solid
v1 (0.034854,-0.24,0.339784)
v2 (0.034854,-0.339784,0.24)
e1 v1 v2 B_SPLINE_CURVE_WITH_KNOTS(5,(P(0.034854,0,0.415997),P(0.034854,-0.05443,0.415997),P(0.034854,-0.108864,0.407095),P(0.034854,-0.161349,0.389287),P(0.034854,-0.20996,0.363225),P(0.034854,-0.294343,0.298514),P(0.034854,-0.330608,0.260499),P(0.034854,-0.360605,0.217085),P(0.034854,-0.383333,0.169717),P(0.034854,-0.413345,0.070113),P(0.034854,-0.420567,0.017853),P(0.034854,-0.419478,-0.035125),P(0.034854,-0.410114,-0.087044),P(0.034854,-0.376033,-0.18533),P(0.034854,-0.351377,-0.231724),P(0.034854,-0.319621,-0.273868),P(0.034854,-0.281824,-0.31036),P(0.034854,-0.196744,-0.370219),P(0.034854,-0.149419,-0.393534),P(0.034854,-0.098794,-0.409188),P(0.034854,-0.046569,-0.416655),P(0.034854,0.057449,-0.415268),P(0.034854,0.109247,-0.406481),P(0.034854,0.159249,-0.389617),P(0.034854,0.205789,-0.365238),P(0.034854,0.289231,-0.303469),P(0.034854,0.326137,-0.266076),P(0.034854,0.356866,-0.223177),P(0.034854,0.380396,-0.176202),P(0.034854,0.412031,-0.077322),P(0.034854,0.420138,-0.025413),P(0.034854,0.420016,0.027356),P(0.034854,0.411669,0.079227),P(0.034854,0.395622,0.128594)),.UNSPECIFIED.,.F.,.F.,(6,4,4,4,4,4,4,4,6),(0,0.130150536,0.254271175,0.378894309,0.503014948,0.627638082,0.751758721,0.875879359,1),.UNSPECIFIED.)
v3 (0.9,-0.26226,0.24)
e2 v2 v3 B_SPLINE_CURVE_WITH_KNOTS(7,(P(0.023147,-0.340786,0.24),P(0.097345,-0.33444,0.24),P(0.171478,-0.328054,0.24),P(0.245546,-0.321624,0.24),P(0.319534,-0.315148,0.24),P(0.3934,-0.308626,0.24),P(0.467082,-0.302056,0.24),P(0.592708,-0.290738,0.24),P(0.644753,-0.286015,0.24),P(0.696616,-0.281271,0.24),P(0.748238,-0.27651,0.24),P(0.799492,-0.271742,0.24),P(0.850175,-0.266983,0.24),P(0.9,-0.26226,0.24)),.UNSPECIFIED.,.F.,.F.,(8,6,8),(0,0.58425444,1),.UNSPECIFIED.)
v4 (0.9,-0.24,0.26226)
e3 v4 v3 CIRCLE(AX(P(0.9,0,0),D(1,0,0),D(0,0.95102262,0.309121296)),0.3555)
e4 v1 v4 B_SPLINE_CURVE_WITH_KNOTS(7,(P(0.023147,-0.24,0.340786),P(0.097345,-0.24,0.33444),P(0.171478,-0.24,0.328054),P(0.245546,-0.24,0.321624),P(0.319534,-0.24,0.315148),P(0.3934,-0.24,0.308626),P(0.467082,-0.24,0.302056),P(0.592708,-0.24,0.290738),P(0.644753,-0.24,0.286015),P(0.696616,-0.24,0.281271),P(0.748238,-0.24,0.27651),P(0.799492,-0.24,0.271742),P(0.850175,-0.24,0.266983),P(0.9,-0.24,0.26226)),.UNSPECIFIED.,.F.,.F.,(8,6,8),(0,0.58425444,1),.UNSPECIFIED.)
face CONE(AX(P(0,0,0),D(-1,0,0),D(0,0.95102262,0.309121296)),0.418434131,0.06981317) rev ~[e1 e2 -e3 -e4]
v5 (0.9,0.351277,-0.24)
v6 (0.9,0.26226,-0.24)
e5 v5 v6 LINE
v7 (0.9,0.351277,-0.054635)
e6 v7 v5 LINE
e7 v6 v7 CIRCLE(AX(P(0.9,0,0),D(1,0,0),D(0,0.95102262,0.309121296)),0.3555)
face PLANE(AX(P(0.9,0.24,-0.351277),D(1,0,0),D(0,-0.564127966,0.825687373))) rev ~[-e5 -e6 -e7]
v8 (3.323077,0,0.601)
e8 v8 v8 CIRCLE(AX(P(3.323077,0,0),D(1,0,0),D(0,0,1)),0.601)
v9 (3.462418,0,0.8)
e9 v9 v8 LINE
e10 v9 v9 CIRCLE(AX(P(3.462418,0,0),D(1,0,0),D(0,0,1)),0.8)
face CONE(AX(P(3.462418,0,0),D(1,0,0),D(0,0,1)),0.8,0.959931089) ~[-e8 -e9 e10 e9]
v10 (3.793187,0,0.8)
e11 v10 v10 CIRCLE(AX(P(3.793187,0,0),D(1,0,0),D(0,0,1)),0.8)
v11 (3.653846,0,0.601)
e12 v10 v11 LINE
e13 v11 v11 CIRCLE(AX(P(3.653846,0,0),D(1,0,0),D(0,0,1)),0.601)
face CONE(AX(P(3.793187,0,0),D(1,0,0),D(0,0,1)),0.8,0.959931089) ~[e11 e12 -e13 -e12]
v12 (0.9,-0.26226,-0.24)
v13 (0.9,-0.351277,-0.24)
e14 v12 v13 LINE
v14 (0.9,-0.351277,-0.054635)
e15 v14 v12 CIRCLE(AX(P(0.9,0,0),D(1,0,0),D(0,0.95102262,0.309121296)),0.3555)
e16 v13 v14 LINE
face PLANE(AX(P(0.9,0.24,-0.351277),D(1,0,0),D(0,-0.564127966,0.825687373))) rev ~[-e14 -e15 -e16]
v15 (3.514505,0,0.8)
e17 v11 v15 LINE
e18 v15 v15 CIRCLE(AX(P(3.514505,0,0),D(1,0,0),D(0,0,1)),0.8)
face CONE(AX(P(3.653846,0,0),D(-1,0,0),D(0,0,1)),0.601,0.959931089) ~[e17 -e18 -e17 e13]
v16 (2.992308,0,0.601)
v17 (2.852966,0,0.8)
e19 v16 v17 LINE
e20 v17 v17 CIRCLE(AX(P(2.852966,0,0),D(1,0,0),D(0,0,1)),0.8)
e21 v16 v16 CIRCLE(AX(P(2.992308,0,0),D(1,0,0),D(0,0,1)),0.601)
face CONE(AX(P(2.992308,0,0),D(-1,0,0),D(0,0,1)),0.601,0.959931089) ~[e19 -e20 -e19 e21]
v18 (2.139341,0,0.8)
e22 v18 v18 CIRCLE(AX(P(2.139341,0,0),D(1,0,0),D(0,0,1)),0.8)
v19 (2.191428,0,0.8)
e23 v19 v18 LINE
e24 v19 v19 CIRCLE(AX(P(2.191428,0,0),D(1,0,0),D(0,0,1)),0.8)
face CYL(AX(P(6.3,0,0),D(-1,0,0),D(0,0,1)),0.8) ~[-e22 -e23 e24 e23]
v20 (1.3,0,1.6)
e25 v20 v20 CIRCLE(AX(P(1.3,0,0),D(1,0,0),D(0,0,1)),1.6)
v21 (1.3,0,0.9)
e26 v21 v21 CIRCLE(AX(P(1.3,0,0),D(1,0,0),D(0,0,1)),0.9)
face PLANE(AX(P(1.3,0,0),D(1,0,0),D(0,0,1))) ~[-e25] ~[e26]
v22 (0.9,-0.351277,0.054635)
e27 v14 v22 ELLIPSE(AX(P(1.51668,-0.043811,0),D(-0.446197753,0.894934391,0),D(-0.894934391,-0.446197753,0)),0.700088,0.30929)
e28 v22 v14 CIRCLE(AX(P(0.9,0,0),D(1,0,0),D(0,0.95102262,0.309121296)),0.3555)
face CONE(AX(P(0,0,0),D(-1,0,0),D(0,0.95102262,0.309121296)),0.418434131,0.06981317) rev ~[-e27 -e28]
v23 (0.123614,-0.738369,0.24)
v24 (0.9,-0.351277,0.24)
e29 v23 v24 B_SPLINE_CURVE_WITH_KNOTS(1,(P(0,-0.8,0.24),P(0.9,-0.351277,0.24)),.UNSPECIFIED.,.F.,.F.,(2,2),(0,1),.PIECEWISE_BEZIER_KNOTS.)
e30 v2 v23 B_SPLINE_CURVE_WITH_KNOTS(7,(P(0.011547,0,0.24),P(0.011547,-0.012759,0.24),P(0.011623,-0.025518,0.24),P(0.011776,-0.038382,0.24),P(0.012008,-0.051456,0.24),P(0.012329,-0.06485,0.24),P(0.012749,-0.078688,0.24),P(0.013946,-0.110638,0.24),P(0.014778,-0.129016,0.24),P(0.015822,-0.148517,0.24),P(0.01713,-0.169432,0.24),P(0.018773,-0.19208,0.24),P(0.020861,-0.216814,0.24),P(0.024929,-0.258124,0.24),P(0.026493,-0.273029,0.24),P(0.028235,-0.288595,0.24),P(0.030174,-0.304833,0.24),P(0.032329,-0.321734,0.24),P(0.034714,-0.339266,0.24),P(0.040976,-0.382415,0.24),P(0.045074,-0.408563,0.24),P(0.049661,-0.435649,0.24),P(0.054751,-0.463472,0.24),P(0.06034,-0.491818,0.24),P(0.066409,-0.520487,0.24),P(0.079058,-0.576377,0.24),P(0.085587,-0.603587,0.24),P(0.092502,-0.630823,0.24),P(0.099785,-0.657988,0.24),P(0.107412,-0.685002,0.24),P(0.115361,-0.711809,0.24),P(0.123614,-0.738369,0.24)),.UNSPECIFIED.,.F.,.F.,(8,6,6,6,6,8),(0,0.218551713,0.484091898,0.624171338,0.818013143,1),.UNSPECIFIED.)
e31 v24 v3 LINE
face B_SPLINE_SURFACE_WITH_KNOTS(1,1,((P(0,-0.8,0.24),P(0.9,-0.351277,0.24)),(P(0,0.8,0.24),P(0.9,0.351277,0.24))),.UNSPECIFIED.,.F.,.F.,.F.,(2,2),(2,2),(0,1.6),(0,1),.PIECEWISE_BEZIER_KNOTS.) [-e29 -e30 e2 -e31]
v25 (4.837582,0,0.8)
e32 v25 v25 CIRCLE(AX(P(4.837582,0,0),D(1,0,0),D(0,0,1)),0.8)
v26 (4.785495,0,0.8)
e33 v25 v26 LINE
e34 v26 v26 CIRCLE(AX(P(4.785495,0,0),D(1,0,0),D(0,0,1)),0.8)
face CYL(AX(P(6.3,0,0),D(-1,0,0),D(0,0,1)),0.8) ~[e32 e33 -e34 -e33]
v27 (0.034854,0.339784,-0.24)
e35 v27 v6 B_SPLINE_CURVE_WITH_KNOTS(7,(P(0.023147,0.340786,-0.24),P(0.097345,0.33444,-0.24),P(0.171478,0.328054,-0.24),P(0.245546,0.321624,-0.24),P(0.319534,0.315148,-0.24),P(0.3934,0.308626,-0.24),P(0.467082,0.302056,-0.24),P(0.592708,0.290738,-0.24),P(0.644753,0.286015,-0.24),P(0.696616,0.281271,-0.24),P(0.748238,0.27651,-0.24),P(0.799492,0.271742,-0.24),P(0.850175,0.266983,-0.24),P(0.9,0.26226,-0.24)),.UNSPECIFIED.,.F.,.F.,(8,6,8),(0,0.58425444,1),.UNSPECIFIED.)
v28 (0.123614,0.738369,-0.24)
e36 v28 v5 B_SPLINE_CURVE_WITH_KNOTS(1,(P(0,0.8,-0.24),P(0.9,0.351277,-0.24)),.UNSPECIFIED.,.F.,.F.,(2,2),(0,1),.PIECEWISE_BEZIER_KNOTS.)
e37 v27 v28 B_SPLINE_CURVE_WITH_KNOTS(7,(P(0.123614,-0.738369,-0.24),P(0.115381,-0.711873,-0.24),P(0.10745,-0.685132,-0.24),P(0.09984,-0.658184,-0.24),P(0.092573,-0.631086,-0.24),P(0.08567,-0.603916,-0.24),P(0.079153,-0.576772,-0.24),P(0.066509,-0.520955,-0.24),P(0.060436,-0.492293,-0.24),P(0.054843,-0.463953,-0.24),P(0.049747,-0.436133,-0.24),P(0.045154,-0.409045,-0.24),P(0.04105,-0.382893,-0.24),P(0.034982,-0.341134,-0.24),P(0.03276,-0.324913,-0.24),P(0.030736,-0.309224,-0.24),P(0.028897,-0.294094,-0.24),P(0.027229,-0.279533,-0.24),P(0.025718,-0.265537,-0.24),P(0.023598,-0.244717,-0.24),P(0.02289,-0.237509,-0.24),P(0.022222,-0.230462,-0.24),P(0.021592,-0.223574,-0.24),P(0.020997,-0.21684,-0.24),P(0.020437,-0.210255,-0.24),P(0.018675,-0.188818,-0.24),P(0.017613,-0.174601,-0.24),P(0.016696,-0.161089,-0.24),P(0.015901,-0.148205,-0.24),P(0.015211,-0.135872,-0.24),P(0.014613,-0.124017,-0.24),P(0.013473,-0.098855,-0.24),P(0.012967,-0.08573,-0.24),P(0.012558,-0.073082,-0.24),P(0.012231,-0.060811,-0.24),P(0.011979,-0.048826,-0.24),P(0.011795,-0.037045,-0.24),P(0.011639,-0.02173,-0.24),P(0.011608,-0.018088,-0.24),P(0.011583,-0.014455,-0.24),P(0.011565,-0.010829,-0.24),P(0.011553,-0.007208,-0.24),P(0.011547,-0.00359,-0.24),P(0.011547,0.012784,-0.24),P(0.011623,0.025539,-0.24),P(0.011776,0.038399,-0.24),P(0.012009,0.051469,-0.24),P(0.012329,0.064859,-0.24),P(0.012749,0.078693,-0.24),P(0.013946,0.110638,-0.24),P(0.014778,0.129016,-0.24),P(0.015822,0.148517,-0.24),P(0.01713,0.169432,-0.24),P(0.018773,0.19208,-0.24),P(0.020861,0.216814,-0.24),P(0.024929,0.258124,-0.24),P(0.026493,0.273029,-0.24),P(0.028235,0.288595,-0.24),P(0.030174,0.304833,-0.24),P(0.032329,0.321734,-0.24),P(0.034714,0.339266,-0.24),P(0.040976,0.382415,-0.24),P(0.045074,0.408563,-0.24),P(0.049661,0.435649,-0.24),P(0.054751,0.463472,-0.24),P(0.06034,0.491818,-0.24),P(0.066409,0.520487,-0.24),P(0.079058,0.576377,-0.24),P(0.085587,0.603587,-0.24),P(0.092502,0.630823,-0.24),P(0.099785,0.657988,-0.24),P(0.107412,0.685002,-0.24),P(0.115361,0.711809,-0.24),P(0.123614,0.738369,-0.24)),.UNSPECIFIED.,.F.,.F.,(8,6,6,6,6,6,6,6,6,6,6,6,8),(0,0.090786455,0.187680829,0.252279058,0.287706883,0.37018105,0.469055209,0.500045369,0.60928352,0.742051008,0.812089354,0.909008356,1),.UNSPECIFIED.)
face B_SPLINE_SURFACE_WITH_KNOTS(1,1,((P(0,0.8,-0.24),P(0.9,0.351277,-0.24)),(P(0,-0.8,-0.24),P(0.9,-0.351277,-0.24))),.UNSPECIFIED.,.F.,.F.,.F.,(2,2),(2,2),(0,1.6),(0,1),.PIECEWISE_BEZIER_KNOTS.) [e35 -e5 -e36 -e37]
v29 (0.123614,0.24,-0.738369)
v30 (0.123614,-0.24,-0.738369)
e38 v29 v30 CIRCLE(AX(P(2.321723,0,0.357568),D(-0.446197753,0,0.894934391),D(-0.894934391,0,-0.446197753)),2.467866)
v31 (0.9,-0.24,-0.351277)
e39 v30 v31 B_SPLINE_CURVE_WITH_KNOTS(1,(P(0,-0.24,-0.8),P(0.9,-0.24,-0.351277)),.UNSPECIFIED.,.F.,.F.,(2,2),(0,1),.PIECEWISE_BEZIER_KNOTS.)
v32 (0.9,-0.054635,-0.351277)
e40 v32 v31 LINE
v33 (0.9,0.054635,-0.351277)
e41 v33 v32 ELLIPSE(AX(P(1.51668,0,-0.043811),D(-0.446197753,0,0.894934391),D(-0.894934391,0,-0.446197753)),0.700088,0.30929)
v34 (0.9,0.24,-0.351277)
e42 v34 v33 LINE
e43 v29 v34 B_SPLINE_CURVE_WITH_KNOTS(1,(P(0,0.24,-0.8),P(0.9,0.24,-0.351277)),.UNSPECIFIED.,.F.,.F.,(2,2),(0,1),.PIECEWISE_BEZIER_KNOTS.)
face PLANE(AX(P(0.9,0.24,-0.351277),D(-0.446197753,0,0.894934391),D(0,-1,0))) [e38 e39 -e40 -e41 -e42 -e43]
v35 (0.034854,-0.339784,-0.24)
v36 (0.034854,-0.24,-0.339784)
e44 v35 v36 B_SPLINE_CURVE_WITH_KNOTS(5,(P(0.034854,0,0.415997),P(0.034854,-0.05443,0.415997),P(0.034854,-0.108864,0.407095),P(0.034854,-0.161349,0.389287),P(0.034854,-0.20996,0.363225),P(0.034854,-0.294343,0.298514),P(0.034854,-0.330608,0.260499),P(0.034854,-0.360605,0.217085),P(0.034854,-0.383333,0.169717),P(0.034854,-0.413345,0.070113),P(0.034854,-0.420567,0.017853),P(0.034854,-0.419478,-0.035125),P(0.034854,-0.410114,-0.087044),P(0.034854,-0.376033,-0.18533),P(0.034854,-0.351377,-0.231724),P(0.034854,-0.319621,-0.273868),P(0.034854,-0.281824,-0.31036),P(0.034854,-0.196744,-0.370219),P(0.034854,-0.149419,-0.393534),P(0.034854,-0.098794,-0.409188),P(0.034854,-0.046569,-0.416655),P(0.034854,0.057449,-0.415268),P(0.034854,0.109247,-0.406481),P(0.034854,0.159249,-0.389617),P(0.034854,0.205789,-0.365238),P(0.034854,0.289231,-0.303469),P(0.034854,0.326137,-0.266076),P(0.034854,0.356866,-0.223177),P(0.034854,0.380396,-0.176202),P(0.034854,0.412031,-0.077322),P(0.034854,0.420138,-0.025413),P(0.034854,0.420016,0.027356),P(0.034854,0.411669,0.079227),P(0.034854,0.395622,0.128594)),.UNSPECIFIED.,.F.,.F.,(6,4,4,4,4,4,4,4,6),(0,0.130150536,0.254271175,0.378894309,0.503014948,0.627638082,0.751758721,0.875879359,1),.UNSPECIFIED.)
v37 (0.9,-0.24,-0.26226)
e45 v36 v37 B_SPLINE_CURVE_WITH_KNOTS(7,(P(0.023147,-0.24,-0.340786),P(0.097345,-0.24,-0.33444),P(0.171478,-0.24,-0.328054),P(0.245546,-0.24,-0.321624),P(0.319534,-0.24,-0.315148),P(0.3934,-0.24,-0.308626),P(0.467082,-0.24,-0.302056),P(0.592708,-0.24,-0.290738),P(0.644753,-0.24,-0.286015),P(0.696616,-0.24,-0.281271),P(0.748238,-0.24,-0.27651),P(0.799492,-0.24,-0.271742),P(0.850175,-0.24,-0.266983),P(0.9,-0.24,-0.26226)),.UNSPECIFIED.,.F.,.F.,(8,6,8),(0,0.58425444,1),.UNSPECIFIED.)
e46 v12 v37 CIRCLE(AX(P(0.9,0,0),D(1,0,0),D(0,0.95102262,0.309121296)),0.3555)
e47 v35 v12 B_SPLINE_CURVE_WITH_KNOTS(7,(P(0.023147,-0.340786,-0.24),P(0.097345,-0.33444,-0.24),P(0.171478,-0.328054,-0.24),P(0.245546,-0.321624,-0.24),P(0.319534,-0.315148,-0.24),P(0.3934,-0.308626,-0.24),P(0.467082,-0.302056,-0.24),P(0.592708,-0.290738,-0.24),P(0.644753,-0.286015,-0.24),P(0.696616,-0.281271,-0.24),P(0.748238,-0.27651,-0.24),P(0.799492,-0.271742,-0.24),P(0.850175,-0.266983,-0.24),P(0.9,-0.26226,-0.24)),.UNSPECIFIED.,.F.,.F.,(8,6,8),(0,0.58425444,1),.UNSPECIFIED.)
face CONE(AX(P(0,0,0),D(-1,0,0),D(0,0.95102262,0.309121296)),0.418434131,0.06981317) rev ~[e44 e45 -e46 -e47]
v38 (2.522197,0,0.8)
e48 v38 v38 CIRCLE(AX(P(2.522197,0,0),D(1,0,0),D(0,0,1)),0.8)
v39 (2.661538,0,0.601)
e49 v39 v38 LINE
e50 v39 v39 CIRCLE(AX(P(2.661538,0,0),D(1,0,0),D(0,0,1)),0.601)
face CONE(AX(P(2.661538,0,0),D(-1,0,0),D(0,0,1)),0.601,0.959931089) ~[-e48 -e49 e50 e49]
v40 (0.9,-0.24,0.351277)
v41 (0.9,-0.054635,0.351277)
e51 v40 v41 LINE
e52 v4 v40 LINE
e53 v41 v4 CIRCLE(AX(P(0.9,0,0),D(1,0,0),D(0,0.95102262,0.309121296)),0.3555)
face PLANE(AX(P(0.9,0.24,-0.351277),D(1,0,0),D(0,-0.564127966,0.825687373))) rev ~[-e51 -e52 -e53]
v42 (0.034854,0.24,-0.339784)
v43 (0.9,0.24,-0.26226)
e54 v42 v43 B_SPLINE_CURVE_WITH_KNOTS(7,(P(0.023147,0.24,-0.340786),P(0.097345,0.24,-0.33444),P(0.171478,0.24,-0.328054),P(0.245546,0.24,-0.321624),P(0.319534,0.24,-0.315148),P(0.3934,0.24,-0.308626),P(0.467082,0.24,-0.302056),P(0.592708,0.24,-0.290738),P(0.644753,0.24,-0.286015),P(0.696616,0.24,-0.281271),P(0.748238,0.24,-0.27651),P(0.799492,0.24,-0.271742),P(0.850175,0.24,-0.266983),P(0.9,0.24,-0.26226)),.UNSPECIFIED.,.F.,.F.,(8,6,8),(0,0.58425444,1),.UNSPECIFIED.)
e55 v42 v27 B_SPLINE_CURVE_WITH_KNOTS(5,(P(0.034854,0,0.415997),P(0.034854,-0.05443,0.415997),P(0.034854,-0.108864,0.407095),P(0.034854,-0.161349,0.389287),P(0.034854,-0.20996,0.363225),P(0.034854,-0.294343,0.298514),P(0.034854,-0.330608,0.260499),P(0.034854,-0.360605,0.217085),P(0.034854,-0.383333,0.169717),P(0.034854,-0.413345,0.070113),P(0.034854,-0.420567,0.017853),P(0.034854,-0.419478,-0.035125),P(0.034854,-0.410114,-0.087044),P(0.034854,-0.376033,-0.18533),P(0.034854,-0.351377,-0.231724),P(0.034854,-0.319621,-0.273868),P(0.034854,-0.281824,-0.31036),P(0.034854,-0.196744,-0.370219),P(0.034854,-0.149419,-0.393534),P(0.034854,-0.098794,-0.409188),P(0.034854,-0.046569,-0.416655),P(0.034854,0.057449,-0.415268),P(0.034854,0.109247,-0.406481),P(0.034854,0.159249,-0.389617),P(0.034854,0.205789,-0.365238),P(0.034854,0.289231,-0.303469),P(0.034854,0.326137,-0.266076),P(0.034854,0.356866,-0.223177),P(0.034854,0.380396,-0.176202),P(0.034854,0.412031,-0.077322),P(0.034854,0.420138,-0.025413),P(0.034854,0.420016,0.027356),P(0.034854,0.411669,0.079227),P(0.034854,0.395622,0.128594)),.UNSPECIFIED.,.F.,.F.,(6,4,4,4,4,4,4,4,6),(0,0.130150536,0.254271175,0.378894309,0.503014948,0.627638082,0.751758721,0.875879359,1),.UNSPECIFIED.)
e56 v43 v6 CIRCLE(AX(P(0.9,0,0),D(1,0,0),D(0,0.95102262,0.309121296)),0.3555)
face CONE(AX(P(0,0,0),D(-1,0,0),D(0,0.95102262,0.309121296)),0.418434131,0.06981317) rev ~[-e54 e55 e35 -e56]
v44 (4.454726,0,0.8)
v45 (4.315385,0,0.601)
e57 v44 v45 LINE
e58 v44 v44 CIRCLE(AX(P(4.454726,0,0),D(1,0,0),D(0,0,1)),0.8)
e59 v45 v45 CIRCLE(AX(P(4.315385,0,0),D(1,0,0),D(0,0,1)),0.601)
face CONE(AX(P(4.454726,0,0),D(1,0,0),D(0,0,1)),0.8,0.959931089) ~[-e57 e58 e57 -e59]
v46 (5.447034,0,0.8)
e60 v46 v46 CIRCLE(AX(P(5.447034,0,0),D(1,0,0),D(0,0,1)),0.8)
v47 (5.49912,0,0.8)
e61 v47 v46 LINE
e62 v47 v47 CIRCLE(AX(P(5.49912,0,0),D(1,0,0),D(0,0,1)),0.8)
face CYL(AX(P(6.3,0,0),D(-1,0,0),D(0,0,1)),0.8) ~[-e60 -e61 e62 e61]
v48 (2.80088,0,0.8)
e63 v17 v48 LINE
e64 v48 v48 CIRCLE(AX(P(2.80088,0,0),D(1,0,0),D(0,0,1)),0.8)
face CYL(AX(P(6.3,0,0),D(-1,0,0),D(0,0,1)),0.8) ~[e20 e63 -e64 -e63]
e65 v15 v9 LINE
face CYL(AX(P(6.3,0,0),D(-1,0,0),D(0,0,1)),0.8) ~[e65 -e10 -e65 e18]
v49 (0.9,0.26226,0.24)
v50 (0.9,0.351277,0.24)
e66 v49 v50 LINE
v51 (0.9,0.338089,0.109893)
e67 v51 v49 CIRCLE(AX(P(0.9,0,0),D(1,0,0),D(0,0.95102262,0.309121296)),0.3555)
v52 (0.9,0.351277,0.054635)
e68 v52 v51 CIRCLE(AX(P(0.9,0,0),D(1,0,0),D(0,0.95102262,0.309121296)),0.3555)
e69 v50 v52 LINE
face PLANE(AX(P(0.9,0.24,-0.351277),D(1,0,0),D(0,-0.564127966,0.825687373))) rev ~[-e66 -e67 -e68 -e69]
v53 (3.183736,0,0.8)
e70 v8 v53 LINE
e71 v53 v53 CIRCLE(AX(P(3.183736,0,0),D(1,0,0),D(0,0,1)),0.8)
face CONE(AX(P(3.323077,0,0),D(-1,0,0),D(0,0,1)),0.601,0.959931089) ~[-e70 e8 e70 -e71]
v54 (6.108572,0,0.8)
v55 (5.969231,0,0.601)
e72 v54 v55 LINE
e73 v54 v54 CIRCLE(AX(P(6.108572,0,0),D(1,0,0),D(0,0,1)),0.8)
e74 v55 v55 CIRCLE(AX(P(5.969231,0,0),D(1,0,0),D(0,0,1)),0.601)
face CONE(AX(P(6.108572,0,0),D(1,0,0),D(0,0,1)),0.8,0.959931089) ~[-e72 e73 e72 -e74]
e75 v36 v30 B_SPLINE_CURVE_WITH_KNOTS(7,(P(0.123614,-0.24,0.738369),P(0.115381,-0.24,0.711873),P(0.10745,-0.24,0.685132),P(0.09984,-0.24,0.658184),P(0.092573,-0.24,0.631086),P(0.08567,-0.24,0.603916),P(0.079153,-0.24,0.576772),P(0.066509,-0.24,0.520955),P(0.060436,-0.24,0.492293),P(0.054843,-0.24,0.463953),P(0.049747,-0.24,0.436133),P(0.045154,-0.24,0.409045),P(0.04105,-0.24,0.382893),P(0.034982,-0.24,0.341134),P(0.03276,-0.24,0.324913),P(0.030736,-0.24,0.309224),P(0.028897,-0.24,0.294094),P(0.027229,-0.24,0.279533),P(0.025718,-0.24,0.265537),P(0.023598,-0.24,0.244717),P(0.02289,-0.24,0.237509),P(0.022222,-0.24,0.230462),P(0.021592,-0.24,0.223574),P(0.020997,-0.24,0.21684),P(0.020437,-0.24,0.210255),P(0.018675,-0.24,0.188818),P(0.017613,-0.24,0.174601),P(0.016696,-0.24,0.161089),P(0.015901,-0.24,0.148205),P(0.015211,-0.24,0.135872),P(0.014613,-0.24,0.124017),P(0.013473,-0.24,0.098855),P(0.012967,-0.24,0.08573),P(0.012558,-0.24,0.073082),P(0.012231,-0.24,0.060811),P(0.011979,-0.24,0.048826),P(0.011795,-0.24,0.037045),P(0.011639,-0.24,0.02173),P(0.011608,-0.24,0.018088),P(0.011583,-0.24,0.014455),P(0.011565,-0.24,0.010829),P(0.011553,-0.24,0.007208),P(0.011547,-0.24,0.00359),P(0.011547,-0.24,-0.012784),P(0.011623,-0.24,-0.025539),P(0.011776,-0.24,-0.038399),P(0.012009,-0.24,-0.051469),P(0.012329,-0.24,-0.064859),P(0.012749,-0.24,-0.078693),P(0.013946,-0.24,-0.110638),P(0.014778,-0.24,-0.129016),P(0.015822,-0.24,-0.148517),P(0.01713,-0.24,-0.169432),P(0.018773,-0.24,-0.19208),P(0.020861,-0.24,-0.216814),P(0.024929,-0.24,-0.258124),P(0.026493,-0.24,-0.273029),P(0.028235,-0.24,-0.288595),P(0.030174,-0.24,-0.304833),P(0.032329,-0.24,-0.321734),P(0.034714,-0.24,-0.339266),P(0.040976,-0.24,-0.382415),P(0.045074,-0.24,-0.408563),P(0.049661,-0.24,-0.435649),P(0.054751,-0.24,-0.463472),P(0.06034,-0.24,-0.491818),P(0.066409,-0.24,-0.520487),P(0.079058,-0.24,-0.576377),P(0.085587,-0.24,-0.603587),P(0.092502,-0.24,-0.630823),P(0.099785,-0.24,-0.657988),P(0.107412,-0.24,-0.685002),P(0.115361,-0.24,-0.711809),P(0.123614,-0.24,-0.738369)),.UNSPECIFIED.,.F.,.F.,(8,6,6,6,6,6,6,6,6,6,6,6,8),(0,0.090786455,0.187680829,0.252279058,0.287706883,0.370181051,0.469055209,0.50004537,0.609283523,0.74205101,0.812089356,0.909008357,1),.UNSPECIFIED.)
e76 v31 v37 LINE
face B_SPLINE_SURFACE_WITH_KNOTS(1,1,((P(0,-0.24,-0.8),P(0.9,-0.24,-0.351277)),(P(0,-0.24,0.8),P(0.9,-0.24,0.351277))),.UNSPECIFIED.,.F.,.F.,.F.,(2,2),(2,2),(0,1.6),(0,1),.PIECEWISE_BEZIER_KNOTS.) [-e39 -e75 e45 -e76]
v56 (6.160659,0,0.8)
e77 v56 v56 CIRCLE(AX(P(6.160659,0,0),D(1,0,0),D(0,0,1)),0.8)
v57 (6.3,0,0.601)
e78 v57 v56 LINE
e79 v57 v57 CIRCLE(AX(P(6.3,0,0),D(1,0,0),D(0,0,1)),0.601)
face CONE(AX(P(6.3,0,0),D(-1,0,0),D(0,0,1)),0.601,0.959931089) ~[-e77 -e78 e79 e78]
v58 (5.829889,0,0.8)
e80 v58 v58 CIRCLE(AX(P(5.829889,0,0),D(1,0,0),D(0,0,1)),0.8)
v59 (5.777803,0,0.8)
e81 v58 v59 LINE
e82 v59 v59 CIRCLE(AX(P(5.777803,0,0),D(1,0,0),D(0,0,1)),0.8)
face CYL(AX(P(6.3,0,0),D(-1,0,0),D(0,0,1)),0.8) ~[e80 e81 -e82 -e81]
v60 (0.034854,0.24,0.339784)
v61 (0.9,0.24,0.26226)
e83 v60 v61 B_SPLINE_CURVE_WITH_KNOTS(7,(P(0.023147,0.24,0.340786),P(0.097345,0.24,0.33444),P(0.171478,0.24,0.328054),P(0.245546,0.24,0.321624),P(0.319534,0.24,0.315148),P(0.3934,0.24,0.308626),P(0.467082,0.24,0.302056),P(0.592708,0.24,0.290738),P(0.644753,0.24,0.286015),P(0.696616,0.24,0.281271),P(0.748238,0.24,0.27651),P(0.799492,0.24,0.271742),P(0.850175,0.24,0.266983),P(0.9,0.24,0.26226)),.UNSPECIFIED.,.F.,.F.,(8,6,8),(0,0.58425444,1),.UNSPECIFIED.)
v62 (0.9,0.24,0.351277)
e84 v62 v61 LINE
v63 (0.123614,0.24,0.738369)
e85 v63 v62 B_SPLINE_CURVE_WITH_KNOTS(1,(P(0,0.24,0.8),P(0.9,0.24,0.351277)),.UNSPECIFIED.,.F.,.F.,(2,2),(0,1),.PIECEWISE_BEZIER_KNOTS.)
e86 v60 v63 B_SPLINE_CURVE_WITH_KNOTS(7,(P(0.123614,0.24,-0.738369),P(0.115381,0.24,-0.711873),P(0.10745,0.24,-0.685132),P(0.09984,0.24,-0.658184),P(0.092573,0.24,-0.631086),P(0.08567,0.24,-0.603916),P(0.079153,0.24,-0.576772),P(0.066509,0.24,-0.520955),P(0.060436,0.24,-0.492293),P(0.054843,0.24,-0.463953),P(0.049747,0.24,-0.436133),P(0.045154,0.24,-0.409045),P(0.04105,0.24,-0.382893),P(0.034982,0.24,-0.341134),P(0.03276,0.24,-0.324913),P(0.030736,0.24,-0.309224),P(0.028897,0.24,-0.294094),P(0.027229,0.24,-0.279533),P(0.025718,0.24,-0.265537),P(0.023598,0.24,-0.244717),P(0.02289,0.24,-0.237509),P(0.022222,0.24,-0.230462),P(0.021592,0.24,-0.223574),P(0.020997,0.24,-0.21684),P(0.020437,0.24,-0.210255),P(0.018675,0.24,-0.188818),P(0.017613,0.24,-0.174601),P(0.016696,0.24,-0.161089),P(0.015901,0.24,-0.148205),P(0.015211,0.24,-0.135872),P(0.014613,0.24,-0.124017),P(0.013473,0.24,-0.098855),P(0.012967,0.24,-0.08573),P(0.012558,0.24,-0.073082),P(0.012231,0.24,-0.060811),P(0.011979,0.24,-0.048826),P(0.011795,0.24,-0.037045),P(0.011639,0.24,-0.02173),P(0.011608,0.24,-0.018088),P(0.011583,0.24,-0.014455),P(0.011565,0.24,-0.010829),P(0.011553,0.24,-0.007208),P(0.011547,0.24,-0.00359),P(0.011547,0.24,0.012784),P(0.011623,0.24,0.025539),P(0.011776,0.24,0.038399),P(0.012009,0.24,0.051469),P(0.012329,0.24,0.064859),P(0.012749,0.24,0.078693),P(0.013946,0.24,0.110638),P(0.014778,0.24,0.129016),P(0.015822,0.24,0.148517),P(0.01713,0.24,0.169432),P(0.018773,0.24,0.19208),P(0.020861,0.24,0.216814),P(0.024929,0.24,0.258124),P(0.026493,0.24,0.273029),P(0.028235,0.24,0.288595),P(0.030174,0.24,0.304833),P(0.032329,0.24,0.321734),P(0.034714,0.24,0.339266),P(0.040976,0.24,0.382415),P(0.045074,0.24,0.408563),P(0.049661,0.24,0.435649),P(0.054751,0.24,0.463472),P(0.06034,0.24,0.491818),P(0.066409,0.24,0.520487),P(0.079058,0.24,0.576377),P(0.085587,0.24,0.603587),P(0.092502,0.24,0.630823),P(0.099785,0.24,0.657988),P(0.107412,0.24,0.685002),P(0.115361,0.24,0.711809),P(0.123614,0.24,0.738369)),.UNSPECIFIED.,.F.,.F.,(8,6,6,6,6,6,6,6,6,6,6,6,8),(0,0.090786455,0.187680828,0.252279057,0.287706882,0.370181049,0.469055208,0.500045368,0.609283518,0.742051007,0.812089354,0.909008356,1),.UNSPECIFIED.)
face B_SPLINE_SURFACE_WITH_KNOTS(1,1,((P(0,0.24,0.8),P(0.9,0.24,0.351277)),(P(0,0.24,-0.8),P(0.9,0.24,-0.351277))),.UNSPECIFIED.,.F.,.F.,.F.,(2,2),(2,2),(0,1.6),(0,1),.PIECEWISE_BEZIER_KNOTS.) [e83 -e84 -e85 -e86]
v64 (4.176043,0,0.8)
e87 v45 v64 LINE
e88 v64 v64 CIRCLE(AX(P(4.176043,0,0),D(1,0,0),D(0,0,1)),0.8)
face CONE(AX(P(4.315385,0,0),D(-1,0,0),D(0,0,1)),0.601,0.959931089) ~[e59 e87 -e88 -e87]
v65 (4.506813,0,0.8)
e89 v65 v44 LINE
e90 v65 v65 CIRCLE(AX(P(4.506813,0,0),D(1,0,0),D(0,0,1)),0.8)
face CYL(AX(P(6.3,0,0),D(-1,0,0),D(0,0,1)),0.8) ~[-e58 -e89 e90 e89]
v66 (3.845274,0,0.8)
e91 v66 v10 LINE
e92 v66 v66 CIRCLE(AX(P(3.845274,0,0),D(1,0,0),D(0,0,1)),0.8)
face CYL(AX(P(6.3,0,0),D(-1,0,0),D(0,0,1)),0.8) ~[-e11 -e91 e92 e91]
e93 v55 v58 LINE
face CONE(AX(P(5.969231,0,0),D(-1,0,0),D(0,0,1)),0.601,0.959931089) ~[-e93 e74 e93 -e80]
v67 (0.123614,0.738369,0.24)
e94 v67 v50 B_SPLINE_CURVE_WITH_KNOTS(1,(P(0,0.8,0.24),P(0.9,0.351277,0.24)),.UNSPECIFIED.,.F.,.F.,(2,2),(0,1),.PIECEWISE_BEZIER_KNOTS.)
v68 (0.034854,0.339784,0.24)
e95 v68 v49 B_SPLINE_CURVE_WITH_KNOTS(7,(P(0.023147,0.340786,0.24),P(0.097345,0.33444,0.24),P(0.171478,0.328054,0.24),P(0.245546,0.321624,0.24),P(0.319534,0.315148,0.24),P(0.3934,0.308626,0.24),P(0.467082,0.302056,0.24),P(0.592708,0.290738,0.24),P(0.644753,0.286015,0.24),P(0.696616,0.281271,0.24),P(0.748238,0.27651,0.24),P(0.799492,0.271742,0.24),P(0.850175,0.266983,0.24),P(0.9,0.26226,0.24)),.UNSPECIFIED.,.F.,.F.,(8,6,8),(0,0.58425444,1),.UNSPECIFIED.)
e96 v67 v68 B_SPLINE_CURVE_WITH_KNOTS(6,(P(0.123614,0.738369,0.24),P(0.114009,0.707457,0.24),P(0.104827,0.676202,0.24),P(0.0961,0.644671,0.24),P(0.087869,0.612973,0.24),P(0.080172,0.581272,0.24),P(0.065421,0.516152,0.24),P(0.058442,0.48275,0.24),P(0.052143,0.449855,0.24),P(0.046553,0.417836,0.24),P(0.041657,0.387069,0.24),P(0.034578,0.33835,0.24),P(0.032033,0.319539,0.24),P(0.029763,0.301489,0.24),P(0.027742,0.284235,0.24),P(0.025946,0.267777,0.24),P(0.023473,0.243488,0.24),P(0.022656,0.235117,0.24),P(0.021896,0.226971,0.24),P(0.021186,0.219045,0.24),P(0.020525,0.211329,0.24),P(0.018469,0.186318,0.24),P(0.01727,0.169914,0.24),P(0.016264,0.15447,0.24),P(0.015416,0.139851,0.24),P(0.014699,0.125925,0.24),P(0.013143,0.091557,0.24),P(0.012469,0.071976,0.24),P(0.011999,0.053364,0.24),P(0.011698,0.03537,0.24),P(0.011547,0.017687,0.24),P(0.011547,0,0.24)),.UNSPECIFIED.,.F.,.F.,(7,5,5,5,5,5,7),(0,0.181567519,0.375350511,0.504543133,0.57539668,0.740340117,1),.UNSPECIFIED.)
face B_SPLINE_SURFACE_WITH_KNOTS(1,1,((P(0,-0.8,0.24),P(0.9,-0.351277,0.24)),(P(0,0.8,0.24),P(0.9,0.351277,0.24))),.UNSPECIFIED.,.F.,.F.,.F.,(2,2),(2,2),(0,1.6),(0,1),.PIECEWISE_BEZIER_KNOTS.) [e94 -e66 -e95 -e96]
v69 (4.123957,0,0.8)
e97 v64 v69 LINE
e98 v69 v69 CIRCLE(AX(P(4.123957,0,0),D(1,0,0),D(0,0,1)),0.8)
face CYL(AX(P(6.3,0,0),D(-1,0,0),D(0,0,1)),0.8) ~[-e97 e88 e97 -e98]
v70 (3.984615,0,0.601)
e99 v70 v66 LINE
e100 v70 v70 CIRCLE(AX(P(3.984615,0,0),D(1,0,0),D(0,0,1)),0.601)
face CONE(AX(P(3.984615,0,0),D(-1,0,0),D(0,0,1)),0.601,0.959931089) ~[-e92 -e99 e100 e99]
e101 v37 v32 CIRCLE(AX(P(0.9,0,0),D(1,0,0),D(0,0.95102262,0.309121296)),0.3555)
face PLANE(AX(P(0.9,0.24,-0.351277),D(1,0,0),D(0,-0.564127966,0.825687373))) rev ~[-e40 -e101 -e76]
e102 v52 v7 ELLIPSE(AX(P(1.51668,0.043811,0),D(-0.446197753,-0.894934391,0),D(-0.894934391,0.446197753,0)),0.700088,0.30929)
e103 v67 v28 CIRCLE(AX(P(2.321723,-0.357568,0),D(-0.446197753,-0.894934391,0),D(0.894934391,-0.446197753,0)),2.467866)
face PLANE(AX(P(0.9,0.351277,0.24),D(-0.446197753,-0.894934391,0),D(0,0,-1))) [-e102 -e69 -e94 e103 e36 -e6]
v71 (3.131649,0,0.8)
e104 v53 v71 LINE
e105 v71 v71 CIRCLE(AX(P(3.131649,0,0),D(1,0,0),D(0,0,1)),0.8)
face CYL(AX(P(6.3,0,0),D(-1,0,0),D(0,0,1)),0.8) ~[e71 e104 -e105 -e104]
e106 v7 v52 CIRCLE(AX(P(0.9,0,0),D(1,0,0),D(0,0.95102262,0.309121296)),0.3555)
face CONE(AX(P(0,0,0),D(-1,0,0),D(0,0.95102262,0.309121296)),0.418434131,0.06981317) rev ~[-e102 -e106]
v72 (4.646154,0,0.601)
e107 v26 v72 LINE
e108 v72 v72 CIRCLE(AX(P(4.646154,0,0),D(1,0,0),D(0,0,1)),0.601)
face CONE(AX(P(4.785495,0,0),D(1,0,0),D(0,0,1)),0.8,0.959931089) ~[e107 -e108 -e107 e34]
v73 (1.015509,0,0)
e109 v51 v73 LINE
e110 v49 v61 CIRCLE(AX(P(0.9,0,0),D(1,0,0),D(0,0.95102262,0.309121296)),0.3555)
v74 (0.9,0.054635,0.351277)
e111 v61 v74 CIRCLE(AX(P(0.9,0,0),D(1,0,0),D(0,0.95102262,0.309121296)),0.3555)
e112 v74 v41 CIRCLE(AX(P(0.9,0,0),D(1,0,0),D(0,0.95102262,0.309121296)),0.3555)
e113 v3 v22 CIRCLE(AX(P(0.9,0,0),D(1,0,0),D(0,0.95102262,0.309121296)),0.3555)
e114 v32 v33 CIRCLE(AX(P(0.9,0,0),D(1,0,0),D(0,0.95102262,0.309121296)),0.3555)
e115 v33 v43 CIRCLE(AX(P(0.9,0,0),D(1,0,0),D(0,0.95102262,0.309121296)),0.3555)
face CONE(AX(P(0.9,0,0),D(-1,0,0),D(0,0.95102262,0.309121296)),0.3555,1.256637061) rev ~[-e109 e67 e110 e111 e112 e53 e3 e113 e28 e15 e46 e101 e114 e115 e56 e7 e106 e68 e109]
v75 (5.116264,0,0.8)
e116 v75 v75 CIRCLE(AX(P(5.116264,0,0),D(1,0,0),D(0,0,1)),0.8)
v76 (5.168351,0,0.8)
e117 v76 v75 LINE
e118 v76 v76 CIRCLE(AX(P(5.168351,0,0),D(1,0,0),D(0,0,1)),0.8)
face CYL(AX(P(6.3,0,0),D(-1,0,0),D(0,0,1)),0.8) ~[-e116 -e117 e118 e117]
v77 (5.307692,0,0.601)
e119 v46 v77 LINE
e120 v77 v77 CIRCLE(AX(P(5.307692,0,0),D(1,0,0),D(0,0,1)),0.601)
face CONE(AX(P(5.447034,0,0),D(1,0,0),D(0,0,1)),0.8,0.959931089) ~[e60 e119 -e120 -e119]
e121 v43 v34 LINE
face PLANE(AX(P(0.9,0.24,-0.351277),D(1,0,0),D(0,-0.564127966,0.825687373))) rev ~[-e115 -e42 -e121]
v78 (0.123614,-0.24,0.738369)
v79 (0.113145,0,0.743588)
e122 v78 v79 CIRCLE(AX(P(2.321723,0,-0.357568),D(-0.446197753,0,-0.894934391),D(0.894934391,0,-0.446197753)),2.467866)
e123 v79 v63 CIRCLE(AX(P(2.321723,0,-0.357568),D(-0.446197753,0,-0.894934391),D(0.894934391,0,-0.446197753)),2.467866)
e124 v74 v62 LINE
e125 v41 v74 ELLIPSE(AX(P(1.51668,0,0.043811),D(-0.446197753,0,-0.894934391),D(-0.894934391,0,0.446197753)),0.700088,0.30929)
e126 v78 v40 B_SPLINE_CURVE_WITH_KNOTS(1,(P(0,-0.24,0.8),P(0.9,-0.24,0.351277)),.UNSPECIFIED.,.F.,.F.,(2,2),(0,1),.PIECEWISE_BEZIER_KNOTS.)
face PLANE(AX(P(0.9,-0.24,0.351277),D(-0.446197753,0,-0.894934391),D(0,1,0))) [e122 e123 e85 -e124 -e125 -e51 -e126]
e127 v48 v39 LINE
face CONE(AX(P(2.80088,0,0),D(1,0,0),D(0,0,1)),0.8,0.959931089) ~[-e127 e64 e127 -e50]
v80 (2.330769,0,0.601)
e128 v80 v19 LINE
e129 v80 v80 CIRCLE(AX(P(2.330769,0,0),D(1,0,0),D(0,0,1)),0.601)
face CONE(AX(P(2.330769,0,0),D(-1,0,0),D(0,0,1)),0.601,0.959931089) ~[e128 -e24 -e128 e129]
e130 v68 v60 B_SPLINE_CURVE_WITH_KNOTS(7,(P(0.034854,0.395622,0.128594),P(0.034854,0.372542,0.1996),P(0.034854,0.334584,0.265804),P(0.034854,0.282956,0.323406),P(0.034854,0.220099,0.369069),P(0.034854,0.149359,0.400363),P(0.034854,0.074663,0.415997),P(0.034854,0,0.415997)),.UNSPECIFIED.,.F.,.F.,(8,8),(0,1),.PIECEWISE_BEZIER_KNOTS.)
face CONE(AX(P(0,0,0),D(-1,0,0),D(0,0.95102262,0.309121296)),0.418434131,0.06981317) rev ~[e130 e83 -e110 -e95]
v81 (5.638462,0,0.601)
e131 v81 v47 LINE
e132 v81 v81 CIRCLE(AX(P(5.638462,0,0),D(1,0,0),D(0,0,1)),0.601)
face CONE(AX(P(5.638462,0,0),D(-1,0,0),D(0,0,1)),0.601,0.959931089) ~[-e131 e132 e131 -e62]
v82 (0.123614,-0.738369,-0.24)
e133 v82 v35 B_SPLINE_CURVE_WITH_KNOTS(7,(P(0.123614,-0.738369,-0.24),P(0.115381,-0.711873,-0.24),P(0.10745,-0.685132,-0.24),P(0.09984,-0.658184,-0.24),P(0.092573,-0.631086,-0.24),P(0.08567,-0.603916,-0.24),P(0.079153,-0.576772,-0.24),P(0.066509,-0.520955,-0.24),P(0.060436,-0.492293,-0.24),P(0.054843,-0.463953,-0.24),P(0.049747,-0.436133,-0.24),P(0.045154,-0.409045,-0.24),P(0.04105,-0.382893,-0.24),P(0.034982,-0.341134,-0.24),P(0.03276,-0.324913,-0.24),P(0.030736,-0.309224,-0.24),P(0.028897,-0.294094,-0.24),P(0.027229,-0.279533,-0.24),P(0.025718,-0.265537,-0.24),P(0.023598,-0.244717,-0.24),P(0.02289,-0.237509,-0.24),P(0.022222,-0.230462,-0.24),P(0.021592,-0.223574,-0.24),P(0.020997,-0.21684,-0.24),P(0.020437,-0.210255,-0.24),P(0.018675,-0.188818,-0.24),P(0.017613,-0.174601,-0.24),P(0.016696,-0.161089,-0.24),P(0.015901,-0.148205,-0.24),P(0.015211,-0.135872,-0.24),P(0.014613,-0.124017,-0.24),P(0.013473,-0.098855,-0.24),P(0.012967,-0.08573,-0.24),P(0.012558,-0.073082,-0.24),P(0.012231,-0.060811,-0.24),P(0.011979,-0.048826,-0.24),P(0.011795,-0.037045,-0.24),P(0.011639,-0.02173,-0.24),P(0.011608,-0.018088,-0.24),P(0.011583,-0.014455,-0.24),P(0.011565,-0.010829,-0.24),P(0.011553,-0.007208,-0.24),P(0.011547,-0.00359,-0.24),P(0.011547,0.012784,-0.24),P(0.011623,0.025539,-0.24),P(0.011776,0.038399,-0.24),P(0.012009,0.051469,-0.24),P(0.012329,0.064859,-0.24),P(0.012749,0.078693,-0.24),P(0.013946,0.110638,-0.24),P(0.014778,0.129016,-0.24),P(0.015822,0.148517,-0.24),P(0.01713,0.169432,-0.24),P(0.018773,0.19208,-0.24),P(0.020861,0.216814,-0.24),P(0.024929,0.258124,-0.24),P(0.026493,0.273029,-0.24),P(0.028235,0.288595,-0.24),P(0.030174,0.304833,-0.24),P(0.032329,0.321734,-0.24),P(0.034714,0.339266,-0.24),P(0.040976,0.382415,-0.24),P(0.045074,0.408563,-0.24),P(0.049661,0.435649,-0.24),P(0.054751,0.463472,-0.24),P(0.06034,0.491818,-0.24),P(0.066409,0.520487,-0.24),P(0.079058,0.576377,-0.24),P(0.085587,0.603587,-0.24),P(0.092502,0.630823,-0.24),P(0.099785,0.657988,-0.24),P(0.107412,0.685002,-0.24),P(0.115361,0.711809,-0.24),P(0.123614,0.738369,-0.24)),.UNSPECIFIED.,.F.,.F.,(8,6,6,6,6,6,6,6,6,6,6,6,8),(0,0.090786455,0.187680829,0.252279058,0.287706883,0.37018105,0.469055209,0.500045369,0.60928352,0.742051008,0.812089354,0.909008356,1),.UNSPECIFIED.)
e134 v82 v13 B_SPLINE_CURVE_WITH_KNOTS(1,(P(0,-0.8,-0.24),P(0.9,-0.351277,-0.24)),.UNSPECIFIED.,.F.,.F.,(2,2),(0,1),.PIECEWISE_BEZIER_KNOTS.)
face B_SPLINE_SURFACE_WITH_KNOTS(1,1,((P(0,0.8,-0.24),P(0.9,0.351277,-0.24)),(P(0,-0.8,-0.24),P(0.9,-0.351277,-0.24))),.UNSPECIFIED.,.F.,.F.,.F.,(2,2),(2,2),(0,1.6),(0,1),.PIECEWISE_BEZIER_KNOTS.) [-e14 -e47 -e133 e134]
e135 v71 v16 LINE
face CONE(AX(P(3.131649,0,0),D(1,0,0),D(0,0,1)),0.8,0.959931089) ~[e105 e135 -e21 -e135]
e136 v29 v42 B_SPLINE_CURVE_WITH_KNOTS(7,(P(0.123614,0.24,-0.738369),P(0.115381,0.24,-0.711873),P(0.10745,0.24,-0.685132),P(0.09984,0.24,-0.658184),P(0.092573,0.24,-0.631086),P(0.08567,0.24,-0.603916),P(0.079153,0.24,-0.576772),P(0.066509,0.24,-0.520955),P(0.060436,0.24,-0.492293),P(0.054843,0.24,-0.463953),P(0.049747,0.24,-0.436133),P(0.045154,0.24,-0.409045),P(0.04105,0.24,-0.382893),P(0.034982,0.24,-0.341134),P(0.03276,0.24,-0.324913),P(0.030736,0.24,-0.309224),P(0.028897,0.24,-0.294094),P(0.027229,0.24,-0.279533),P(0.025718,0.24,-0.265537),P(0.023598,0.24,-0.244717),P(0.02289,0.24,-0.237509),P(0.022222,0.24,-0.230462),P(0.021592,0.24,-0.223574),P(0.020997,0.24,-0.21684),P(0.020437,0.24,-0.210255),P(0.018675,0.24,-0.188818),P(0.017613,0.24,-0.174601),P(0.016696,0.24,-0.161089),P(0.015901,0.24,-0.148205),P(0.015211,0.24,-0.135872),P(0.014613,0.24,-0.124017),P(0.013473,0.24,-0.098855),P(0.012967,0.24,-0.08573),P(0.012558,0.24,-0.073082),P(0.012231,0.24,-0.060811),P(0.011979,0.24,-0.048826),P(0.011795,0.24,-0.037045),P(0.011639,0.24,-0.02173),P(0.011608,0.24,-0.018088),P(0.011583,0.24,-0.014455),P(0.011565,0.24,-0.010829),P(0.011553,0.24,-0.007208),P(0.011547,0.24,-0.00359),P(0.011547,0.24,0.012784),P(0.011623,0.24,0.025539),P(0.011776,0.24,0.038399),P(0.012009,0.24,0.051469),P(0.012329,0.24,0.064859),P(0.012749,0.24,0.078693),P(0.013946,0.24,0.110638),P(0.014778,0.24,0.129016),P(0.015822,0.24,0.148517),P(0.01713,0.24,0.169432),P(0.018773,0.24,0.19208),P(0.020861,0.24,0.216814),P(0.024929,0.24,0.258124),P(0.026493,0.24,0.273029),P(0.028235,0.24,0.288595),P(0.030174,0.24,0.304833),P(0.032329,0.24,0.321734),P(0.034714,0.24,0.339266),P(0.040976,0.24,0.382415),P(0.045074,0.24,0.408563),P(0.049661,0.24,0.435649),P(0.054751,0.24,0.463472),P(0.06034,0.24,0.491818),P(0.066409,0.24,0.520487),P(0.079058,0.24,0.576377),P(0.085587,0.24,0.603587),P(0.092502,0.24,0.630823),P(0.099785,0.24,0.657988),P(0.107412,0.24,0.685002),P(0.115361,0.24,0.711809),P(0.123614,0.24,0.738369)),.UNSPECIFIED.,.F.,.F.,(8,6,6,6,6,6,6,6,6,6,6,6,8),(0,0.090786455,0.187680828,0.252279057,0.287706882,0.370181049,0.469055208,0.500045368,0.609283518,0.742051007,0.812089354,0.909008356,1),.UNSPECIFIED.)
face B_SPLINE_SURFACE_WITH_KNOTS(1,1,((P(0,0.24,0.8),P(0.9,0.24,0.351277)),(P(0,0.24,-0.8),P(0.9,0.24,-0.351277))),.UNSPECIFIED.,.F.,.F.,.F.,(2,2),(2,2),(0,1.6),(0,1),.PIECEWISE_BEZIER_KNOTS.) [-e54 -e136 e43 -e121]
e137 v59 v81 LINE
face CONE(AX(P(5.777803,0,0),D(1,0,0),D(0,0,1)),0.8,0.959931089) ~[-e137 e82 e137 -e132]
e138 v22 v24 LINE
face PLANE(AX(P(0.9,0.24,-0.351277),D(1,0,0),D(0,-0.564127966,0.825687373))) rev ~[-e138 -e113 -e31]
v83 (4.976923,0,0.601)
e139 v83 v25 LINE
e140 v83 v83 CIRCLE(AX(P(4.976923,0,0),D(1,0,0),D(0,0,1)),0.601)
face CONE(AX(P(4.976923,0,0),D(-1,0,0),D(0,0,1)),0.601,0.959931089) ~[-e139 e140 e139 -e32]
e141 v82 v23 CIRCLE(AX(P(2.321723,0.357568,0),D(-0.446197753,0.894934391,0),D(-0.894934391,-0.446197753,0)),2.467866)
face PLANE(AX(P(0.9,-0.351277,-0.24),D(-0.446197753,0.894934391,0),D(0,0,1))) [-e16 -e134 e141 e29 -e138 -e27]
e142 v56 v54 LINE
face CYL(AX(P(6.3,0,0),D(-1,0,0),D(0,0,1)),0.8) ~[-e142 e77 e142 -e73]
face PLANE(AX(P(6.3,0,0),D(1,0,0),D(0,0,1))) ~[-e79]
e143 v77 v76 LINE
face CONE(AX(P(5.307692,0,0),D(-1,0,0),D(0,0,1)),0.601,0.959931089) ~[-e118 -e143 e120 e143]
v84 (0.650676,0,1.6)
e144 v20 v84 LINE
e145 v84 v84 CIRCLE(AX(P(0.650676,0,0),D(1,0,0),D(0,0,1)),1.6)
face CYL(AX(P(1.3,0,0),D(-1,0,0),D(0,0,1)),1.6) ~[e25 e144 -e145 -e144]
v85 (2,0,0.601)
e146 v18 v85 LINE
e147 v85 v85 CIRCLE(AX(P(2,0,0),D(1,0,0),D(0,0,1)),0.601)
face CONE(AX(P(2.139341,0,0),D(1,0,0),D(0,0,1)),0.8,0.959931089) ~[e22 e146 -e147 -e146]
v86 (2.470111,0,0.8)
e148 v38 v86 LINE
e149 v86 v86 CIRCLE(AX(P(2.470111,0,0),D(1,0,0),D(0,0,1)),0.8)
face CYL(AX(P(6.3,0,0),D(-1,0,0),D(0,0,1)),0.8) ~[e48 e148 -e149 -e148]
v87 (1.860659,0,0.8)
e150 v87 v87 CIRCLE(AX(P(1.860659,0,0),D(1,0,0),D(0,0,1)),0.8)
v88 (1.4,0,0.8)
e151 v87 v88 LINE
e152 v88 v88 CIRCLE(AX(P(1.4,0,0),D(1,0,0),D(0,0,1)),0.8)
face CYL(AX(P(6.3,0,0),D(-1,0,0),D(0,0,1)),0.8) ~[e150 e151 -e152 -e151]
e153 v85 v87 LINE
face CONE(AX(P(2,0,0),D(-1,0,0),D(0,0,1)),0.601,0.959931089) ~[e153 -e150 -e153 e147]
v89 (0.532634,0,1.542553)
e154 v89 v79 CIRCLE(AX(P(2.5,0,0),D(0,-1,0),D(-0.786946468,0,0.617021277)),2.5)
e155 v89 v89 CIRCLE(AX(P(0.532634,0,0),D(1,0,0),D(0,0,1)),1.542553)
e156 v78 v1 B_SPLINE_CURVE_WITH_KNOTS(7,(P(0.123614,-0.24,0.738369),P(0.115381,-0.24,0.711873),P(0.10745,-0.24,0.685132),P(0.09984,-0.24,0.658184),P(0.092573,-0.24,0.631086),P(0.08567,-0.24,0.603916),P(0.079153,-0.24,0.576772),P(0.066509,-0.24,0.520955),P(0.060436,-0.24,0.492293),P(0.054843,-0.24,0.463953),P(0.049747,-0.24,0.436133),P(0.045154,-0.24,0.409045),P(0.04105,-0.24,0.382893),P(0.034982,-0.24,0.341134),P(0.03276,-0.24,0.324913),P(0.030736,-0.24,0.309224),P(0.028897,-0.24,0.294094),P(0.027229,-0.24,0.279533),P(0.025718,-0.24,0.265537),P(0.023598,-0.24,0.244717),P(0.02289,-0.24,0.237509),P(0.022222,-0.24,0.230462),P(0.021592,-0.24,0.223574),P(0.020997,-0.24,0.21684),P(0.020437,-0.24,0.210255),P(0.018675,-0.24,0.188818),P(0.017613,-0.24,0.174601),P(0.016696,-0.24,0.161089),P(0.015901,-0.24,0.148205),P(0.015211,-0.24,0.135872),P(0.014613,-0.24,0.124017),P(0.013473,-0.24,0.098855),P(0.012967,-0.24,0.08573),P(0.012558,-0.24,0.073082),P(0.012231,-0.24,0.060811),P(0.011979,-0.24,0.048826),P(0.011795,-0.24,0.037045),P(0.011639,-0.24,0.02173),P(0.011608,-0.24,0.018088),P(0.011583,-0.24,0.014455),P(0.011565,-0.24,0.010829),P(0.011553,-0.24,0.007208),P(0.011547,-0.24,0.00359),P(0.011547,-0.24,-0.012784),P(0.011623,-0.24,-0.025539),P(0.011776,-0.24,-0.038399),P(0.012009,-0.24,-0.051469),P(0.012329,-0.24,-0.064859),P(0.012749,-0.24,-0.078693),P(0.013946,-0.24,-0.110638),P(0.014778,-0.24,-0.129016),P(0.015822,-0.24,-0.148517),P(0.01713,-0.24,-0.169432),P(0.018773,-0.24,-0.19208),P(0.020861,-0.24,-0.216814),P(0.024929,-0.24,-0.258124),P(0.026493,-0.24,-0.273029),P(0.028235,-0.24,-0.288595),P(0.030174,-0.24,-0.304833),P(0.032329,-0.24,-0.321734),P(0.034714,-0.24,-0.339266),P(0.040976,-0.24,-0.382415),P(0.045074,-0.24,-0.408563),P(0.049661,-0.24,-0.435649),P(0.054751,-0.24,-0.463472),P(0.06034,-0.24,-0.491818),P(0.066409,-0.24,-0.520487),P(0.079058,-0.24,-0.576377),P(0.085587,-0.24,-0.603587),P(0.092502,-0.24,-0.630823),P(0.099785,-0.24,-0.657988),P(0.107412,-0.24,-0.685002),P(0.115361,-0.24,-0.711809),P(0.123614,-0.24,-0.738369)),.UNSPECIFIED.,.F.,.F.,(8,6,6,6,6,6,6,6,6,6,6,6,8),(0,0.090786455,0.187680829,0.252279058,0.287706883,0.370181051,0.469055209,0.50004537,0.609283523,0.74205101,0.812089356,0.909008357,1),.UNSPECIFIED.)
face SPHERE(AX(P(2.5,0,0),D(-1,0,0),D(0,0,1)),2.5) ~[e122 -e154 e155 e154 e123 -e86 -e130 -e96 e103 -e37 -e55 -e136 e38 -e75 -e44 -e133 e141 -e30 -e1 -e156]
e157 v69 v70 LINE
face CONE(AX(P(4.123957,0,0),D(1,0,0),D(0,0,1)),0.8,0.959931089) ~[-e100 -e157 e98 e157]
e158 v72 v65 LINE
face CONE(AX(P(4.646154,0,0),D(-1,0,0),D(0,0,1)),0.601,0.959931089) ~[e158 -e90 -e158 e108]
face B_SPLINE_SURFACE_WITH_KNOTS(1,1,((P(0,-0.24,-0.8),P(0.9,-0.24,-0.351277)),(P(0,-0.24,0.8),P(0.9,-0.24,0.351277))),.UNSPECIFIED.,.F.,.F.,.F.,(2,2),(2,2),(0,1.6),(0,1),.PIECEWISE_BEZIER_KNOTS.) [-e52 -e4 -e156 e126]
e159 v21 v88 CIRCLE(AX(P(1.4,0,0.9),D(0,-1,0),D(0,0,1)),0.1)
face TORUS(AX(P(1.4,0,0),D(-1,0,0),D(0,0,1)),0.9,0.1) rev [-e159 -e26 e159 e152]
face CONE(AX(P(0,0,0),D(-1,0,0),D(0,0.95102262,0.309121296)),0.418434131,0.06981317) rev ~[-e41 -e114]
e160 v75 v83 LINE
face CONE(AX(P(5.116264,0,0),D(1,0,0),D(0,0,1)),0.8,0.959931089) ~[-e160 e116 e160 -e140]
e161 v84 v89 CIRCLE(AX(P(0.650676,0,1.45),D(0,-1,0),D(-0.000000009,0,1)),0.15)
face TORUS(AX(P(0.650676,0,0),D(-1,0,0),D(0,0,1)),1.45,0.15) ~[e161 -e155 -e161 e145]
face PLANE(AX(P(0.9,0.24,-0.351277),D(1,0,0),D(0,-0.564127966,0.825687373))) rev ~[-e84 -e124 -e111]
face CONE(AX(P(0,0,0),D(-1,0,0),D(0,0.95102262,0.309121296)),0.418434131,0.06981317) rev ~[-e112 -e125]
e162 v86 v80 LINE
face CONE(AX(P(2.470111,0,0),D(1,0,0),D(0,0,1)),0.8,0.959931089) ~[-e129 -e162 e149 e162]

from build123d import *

# Parameters (mm, degrees)
FILLET1_R       = 0.1
RECPAT_COUNT    = 2
RECPAT_ANGLE    = 90
THDSCHPAT_COUNT = 14
THDSCHPAT_PITCH = 0.330769231


with BuildPart() as part:
    # BodySke → Base-Revolve (revolve)
    with BuildSketch(Plane.XY, mode=Mode.PRIVATE) as base_revolve_sk:
        with BuildLine():
            Line((1.3, 0.8), (1.3, 1.6))
            Line((1.3, 1.6), (0.650675799, 1.6))
            ThreePointArc((0.650675799, 1.6), (0.585036553, 1.584875829), (0.532633829, 1.542553191))
            ThreePointArc((0.532633829, 1.542553191), (0.136907172, 0.815960959), (0, 0))
            Line((0, 0), (6.3, 0))
            Line((6.3, 0), (6.3, 0.8))
            Line((6.3, 0.8), (1.3, 0.8))
        make_face()
    revolve(base_revolve_sk.sketch.rotate(Axis((0.650675799, 0, 0), (1, 0, 0)), 90), axis=Axis((0.650675799, 0, 0), (1, 0, 0)))

    # Fillet1
    fillet1_edges = [part.edges().sort_by_distance(p)[0] for p in [
        (1.3, 0, -0.8),
    ]]
    fillet(fillet1_edges, radius=FILLET1_R)

    # Sketch3 → Recess section 0
    with BuildSketch(Plane(origin=(0, 0, 0), x_dir=(0, 0, -1), z_dir=(1, 0, 0))):
        with BuildLine():
            Line((0.24, -0.8), (-0.24, -0.8))
            Line((-0.24, -0.8), (-0.24, 0.8))
            Line((-0.24, 0.8), (0.24, 0.8))
            Line((0.24, 0.8), (0.24, -0.8))
        make_face()
    # Sketch4 → Recess section 1
    with BuildSketch(Plane(origin=(0.9, 0, 0), x_dir=(0, 0, -1), z_dir=(1, 0, 0))):
        with BuildLine():
            Line((0.24, -0.351276628), (-0.24, -0.351276628))
            Line((-0.24, -0.351276628), (-0.24, 0.351276628))
            Line((-0.24, 0.351276628), (0.24, 0.351276628))
            Line((0.24, 0.351276628), (0.24, -0.351276628))
        make_face()
    recess = loft(mode=Mode.SUBTRACT)

    # RecPat: Recess ×2 about axis
    recpat_axis = Axis((0, 0, 0), (1, 0, 0))
    for i in range(1, RECPAT_COUNT):
        add(recess.rotate(recpat_axis, i * RECPAT_ANGLE / (RECPAT_COUNT - 1)), mode=Mode.SUBTRACT)

    # RecCorSke → RecessCore (revolve, cut)
    with BuildSketch(Plane.XY, mode=Mode.PRIVATE) as recesscore_sk:
        Polygon((0, 0), (0, 0.418434131), (0.9, 0.3555), (1.015508952, 0), align=None)
    revolve(recesscore_sk.sketch.rotate(Axis((-3.175, 0, 0), (1, 0, 0)), 18.006283694), axis=Axis((-3.175, 0, 0), (1, 0, 0)), mode=Mode.SUBTRACT)

    # ThdSchSke → ThreadSchematic (revolve, cut)
    with BuildSketch(Plane.XY, mode=Mode.PRIVATE) as threadschematic_sk:
        Polygon((2, -0.601), (1.8606587, -0.8), (1.8606587, -1), (2.1393413, -1), (2.1393413, -0.8), align=None)
    threadschematic = revolve(threadschematic_sk.sketch.rotate(Axis((-3.175, 0, 0), (1, 0, 0)), 270), axis=Axis((-3.175, 0, 0), (1, 0, 0)), mode=Mode.SUBTRACT)

    # ThdSchPat: ThreadSchematic ×14
    with Locations(*[(i * THDSCHPAT_PITCH, 0, 0) for i in range(1, THDSCHPAT_COUNT)]):
        add(threadschematic, mode=Mode.SUBTRACT)


solid = part.part
